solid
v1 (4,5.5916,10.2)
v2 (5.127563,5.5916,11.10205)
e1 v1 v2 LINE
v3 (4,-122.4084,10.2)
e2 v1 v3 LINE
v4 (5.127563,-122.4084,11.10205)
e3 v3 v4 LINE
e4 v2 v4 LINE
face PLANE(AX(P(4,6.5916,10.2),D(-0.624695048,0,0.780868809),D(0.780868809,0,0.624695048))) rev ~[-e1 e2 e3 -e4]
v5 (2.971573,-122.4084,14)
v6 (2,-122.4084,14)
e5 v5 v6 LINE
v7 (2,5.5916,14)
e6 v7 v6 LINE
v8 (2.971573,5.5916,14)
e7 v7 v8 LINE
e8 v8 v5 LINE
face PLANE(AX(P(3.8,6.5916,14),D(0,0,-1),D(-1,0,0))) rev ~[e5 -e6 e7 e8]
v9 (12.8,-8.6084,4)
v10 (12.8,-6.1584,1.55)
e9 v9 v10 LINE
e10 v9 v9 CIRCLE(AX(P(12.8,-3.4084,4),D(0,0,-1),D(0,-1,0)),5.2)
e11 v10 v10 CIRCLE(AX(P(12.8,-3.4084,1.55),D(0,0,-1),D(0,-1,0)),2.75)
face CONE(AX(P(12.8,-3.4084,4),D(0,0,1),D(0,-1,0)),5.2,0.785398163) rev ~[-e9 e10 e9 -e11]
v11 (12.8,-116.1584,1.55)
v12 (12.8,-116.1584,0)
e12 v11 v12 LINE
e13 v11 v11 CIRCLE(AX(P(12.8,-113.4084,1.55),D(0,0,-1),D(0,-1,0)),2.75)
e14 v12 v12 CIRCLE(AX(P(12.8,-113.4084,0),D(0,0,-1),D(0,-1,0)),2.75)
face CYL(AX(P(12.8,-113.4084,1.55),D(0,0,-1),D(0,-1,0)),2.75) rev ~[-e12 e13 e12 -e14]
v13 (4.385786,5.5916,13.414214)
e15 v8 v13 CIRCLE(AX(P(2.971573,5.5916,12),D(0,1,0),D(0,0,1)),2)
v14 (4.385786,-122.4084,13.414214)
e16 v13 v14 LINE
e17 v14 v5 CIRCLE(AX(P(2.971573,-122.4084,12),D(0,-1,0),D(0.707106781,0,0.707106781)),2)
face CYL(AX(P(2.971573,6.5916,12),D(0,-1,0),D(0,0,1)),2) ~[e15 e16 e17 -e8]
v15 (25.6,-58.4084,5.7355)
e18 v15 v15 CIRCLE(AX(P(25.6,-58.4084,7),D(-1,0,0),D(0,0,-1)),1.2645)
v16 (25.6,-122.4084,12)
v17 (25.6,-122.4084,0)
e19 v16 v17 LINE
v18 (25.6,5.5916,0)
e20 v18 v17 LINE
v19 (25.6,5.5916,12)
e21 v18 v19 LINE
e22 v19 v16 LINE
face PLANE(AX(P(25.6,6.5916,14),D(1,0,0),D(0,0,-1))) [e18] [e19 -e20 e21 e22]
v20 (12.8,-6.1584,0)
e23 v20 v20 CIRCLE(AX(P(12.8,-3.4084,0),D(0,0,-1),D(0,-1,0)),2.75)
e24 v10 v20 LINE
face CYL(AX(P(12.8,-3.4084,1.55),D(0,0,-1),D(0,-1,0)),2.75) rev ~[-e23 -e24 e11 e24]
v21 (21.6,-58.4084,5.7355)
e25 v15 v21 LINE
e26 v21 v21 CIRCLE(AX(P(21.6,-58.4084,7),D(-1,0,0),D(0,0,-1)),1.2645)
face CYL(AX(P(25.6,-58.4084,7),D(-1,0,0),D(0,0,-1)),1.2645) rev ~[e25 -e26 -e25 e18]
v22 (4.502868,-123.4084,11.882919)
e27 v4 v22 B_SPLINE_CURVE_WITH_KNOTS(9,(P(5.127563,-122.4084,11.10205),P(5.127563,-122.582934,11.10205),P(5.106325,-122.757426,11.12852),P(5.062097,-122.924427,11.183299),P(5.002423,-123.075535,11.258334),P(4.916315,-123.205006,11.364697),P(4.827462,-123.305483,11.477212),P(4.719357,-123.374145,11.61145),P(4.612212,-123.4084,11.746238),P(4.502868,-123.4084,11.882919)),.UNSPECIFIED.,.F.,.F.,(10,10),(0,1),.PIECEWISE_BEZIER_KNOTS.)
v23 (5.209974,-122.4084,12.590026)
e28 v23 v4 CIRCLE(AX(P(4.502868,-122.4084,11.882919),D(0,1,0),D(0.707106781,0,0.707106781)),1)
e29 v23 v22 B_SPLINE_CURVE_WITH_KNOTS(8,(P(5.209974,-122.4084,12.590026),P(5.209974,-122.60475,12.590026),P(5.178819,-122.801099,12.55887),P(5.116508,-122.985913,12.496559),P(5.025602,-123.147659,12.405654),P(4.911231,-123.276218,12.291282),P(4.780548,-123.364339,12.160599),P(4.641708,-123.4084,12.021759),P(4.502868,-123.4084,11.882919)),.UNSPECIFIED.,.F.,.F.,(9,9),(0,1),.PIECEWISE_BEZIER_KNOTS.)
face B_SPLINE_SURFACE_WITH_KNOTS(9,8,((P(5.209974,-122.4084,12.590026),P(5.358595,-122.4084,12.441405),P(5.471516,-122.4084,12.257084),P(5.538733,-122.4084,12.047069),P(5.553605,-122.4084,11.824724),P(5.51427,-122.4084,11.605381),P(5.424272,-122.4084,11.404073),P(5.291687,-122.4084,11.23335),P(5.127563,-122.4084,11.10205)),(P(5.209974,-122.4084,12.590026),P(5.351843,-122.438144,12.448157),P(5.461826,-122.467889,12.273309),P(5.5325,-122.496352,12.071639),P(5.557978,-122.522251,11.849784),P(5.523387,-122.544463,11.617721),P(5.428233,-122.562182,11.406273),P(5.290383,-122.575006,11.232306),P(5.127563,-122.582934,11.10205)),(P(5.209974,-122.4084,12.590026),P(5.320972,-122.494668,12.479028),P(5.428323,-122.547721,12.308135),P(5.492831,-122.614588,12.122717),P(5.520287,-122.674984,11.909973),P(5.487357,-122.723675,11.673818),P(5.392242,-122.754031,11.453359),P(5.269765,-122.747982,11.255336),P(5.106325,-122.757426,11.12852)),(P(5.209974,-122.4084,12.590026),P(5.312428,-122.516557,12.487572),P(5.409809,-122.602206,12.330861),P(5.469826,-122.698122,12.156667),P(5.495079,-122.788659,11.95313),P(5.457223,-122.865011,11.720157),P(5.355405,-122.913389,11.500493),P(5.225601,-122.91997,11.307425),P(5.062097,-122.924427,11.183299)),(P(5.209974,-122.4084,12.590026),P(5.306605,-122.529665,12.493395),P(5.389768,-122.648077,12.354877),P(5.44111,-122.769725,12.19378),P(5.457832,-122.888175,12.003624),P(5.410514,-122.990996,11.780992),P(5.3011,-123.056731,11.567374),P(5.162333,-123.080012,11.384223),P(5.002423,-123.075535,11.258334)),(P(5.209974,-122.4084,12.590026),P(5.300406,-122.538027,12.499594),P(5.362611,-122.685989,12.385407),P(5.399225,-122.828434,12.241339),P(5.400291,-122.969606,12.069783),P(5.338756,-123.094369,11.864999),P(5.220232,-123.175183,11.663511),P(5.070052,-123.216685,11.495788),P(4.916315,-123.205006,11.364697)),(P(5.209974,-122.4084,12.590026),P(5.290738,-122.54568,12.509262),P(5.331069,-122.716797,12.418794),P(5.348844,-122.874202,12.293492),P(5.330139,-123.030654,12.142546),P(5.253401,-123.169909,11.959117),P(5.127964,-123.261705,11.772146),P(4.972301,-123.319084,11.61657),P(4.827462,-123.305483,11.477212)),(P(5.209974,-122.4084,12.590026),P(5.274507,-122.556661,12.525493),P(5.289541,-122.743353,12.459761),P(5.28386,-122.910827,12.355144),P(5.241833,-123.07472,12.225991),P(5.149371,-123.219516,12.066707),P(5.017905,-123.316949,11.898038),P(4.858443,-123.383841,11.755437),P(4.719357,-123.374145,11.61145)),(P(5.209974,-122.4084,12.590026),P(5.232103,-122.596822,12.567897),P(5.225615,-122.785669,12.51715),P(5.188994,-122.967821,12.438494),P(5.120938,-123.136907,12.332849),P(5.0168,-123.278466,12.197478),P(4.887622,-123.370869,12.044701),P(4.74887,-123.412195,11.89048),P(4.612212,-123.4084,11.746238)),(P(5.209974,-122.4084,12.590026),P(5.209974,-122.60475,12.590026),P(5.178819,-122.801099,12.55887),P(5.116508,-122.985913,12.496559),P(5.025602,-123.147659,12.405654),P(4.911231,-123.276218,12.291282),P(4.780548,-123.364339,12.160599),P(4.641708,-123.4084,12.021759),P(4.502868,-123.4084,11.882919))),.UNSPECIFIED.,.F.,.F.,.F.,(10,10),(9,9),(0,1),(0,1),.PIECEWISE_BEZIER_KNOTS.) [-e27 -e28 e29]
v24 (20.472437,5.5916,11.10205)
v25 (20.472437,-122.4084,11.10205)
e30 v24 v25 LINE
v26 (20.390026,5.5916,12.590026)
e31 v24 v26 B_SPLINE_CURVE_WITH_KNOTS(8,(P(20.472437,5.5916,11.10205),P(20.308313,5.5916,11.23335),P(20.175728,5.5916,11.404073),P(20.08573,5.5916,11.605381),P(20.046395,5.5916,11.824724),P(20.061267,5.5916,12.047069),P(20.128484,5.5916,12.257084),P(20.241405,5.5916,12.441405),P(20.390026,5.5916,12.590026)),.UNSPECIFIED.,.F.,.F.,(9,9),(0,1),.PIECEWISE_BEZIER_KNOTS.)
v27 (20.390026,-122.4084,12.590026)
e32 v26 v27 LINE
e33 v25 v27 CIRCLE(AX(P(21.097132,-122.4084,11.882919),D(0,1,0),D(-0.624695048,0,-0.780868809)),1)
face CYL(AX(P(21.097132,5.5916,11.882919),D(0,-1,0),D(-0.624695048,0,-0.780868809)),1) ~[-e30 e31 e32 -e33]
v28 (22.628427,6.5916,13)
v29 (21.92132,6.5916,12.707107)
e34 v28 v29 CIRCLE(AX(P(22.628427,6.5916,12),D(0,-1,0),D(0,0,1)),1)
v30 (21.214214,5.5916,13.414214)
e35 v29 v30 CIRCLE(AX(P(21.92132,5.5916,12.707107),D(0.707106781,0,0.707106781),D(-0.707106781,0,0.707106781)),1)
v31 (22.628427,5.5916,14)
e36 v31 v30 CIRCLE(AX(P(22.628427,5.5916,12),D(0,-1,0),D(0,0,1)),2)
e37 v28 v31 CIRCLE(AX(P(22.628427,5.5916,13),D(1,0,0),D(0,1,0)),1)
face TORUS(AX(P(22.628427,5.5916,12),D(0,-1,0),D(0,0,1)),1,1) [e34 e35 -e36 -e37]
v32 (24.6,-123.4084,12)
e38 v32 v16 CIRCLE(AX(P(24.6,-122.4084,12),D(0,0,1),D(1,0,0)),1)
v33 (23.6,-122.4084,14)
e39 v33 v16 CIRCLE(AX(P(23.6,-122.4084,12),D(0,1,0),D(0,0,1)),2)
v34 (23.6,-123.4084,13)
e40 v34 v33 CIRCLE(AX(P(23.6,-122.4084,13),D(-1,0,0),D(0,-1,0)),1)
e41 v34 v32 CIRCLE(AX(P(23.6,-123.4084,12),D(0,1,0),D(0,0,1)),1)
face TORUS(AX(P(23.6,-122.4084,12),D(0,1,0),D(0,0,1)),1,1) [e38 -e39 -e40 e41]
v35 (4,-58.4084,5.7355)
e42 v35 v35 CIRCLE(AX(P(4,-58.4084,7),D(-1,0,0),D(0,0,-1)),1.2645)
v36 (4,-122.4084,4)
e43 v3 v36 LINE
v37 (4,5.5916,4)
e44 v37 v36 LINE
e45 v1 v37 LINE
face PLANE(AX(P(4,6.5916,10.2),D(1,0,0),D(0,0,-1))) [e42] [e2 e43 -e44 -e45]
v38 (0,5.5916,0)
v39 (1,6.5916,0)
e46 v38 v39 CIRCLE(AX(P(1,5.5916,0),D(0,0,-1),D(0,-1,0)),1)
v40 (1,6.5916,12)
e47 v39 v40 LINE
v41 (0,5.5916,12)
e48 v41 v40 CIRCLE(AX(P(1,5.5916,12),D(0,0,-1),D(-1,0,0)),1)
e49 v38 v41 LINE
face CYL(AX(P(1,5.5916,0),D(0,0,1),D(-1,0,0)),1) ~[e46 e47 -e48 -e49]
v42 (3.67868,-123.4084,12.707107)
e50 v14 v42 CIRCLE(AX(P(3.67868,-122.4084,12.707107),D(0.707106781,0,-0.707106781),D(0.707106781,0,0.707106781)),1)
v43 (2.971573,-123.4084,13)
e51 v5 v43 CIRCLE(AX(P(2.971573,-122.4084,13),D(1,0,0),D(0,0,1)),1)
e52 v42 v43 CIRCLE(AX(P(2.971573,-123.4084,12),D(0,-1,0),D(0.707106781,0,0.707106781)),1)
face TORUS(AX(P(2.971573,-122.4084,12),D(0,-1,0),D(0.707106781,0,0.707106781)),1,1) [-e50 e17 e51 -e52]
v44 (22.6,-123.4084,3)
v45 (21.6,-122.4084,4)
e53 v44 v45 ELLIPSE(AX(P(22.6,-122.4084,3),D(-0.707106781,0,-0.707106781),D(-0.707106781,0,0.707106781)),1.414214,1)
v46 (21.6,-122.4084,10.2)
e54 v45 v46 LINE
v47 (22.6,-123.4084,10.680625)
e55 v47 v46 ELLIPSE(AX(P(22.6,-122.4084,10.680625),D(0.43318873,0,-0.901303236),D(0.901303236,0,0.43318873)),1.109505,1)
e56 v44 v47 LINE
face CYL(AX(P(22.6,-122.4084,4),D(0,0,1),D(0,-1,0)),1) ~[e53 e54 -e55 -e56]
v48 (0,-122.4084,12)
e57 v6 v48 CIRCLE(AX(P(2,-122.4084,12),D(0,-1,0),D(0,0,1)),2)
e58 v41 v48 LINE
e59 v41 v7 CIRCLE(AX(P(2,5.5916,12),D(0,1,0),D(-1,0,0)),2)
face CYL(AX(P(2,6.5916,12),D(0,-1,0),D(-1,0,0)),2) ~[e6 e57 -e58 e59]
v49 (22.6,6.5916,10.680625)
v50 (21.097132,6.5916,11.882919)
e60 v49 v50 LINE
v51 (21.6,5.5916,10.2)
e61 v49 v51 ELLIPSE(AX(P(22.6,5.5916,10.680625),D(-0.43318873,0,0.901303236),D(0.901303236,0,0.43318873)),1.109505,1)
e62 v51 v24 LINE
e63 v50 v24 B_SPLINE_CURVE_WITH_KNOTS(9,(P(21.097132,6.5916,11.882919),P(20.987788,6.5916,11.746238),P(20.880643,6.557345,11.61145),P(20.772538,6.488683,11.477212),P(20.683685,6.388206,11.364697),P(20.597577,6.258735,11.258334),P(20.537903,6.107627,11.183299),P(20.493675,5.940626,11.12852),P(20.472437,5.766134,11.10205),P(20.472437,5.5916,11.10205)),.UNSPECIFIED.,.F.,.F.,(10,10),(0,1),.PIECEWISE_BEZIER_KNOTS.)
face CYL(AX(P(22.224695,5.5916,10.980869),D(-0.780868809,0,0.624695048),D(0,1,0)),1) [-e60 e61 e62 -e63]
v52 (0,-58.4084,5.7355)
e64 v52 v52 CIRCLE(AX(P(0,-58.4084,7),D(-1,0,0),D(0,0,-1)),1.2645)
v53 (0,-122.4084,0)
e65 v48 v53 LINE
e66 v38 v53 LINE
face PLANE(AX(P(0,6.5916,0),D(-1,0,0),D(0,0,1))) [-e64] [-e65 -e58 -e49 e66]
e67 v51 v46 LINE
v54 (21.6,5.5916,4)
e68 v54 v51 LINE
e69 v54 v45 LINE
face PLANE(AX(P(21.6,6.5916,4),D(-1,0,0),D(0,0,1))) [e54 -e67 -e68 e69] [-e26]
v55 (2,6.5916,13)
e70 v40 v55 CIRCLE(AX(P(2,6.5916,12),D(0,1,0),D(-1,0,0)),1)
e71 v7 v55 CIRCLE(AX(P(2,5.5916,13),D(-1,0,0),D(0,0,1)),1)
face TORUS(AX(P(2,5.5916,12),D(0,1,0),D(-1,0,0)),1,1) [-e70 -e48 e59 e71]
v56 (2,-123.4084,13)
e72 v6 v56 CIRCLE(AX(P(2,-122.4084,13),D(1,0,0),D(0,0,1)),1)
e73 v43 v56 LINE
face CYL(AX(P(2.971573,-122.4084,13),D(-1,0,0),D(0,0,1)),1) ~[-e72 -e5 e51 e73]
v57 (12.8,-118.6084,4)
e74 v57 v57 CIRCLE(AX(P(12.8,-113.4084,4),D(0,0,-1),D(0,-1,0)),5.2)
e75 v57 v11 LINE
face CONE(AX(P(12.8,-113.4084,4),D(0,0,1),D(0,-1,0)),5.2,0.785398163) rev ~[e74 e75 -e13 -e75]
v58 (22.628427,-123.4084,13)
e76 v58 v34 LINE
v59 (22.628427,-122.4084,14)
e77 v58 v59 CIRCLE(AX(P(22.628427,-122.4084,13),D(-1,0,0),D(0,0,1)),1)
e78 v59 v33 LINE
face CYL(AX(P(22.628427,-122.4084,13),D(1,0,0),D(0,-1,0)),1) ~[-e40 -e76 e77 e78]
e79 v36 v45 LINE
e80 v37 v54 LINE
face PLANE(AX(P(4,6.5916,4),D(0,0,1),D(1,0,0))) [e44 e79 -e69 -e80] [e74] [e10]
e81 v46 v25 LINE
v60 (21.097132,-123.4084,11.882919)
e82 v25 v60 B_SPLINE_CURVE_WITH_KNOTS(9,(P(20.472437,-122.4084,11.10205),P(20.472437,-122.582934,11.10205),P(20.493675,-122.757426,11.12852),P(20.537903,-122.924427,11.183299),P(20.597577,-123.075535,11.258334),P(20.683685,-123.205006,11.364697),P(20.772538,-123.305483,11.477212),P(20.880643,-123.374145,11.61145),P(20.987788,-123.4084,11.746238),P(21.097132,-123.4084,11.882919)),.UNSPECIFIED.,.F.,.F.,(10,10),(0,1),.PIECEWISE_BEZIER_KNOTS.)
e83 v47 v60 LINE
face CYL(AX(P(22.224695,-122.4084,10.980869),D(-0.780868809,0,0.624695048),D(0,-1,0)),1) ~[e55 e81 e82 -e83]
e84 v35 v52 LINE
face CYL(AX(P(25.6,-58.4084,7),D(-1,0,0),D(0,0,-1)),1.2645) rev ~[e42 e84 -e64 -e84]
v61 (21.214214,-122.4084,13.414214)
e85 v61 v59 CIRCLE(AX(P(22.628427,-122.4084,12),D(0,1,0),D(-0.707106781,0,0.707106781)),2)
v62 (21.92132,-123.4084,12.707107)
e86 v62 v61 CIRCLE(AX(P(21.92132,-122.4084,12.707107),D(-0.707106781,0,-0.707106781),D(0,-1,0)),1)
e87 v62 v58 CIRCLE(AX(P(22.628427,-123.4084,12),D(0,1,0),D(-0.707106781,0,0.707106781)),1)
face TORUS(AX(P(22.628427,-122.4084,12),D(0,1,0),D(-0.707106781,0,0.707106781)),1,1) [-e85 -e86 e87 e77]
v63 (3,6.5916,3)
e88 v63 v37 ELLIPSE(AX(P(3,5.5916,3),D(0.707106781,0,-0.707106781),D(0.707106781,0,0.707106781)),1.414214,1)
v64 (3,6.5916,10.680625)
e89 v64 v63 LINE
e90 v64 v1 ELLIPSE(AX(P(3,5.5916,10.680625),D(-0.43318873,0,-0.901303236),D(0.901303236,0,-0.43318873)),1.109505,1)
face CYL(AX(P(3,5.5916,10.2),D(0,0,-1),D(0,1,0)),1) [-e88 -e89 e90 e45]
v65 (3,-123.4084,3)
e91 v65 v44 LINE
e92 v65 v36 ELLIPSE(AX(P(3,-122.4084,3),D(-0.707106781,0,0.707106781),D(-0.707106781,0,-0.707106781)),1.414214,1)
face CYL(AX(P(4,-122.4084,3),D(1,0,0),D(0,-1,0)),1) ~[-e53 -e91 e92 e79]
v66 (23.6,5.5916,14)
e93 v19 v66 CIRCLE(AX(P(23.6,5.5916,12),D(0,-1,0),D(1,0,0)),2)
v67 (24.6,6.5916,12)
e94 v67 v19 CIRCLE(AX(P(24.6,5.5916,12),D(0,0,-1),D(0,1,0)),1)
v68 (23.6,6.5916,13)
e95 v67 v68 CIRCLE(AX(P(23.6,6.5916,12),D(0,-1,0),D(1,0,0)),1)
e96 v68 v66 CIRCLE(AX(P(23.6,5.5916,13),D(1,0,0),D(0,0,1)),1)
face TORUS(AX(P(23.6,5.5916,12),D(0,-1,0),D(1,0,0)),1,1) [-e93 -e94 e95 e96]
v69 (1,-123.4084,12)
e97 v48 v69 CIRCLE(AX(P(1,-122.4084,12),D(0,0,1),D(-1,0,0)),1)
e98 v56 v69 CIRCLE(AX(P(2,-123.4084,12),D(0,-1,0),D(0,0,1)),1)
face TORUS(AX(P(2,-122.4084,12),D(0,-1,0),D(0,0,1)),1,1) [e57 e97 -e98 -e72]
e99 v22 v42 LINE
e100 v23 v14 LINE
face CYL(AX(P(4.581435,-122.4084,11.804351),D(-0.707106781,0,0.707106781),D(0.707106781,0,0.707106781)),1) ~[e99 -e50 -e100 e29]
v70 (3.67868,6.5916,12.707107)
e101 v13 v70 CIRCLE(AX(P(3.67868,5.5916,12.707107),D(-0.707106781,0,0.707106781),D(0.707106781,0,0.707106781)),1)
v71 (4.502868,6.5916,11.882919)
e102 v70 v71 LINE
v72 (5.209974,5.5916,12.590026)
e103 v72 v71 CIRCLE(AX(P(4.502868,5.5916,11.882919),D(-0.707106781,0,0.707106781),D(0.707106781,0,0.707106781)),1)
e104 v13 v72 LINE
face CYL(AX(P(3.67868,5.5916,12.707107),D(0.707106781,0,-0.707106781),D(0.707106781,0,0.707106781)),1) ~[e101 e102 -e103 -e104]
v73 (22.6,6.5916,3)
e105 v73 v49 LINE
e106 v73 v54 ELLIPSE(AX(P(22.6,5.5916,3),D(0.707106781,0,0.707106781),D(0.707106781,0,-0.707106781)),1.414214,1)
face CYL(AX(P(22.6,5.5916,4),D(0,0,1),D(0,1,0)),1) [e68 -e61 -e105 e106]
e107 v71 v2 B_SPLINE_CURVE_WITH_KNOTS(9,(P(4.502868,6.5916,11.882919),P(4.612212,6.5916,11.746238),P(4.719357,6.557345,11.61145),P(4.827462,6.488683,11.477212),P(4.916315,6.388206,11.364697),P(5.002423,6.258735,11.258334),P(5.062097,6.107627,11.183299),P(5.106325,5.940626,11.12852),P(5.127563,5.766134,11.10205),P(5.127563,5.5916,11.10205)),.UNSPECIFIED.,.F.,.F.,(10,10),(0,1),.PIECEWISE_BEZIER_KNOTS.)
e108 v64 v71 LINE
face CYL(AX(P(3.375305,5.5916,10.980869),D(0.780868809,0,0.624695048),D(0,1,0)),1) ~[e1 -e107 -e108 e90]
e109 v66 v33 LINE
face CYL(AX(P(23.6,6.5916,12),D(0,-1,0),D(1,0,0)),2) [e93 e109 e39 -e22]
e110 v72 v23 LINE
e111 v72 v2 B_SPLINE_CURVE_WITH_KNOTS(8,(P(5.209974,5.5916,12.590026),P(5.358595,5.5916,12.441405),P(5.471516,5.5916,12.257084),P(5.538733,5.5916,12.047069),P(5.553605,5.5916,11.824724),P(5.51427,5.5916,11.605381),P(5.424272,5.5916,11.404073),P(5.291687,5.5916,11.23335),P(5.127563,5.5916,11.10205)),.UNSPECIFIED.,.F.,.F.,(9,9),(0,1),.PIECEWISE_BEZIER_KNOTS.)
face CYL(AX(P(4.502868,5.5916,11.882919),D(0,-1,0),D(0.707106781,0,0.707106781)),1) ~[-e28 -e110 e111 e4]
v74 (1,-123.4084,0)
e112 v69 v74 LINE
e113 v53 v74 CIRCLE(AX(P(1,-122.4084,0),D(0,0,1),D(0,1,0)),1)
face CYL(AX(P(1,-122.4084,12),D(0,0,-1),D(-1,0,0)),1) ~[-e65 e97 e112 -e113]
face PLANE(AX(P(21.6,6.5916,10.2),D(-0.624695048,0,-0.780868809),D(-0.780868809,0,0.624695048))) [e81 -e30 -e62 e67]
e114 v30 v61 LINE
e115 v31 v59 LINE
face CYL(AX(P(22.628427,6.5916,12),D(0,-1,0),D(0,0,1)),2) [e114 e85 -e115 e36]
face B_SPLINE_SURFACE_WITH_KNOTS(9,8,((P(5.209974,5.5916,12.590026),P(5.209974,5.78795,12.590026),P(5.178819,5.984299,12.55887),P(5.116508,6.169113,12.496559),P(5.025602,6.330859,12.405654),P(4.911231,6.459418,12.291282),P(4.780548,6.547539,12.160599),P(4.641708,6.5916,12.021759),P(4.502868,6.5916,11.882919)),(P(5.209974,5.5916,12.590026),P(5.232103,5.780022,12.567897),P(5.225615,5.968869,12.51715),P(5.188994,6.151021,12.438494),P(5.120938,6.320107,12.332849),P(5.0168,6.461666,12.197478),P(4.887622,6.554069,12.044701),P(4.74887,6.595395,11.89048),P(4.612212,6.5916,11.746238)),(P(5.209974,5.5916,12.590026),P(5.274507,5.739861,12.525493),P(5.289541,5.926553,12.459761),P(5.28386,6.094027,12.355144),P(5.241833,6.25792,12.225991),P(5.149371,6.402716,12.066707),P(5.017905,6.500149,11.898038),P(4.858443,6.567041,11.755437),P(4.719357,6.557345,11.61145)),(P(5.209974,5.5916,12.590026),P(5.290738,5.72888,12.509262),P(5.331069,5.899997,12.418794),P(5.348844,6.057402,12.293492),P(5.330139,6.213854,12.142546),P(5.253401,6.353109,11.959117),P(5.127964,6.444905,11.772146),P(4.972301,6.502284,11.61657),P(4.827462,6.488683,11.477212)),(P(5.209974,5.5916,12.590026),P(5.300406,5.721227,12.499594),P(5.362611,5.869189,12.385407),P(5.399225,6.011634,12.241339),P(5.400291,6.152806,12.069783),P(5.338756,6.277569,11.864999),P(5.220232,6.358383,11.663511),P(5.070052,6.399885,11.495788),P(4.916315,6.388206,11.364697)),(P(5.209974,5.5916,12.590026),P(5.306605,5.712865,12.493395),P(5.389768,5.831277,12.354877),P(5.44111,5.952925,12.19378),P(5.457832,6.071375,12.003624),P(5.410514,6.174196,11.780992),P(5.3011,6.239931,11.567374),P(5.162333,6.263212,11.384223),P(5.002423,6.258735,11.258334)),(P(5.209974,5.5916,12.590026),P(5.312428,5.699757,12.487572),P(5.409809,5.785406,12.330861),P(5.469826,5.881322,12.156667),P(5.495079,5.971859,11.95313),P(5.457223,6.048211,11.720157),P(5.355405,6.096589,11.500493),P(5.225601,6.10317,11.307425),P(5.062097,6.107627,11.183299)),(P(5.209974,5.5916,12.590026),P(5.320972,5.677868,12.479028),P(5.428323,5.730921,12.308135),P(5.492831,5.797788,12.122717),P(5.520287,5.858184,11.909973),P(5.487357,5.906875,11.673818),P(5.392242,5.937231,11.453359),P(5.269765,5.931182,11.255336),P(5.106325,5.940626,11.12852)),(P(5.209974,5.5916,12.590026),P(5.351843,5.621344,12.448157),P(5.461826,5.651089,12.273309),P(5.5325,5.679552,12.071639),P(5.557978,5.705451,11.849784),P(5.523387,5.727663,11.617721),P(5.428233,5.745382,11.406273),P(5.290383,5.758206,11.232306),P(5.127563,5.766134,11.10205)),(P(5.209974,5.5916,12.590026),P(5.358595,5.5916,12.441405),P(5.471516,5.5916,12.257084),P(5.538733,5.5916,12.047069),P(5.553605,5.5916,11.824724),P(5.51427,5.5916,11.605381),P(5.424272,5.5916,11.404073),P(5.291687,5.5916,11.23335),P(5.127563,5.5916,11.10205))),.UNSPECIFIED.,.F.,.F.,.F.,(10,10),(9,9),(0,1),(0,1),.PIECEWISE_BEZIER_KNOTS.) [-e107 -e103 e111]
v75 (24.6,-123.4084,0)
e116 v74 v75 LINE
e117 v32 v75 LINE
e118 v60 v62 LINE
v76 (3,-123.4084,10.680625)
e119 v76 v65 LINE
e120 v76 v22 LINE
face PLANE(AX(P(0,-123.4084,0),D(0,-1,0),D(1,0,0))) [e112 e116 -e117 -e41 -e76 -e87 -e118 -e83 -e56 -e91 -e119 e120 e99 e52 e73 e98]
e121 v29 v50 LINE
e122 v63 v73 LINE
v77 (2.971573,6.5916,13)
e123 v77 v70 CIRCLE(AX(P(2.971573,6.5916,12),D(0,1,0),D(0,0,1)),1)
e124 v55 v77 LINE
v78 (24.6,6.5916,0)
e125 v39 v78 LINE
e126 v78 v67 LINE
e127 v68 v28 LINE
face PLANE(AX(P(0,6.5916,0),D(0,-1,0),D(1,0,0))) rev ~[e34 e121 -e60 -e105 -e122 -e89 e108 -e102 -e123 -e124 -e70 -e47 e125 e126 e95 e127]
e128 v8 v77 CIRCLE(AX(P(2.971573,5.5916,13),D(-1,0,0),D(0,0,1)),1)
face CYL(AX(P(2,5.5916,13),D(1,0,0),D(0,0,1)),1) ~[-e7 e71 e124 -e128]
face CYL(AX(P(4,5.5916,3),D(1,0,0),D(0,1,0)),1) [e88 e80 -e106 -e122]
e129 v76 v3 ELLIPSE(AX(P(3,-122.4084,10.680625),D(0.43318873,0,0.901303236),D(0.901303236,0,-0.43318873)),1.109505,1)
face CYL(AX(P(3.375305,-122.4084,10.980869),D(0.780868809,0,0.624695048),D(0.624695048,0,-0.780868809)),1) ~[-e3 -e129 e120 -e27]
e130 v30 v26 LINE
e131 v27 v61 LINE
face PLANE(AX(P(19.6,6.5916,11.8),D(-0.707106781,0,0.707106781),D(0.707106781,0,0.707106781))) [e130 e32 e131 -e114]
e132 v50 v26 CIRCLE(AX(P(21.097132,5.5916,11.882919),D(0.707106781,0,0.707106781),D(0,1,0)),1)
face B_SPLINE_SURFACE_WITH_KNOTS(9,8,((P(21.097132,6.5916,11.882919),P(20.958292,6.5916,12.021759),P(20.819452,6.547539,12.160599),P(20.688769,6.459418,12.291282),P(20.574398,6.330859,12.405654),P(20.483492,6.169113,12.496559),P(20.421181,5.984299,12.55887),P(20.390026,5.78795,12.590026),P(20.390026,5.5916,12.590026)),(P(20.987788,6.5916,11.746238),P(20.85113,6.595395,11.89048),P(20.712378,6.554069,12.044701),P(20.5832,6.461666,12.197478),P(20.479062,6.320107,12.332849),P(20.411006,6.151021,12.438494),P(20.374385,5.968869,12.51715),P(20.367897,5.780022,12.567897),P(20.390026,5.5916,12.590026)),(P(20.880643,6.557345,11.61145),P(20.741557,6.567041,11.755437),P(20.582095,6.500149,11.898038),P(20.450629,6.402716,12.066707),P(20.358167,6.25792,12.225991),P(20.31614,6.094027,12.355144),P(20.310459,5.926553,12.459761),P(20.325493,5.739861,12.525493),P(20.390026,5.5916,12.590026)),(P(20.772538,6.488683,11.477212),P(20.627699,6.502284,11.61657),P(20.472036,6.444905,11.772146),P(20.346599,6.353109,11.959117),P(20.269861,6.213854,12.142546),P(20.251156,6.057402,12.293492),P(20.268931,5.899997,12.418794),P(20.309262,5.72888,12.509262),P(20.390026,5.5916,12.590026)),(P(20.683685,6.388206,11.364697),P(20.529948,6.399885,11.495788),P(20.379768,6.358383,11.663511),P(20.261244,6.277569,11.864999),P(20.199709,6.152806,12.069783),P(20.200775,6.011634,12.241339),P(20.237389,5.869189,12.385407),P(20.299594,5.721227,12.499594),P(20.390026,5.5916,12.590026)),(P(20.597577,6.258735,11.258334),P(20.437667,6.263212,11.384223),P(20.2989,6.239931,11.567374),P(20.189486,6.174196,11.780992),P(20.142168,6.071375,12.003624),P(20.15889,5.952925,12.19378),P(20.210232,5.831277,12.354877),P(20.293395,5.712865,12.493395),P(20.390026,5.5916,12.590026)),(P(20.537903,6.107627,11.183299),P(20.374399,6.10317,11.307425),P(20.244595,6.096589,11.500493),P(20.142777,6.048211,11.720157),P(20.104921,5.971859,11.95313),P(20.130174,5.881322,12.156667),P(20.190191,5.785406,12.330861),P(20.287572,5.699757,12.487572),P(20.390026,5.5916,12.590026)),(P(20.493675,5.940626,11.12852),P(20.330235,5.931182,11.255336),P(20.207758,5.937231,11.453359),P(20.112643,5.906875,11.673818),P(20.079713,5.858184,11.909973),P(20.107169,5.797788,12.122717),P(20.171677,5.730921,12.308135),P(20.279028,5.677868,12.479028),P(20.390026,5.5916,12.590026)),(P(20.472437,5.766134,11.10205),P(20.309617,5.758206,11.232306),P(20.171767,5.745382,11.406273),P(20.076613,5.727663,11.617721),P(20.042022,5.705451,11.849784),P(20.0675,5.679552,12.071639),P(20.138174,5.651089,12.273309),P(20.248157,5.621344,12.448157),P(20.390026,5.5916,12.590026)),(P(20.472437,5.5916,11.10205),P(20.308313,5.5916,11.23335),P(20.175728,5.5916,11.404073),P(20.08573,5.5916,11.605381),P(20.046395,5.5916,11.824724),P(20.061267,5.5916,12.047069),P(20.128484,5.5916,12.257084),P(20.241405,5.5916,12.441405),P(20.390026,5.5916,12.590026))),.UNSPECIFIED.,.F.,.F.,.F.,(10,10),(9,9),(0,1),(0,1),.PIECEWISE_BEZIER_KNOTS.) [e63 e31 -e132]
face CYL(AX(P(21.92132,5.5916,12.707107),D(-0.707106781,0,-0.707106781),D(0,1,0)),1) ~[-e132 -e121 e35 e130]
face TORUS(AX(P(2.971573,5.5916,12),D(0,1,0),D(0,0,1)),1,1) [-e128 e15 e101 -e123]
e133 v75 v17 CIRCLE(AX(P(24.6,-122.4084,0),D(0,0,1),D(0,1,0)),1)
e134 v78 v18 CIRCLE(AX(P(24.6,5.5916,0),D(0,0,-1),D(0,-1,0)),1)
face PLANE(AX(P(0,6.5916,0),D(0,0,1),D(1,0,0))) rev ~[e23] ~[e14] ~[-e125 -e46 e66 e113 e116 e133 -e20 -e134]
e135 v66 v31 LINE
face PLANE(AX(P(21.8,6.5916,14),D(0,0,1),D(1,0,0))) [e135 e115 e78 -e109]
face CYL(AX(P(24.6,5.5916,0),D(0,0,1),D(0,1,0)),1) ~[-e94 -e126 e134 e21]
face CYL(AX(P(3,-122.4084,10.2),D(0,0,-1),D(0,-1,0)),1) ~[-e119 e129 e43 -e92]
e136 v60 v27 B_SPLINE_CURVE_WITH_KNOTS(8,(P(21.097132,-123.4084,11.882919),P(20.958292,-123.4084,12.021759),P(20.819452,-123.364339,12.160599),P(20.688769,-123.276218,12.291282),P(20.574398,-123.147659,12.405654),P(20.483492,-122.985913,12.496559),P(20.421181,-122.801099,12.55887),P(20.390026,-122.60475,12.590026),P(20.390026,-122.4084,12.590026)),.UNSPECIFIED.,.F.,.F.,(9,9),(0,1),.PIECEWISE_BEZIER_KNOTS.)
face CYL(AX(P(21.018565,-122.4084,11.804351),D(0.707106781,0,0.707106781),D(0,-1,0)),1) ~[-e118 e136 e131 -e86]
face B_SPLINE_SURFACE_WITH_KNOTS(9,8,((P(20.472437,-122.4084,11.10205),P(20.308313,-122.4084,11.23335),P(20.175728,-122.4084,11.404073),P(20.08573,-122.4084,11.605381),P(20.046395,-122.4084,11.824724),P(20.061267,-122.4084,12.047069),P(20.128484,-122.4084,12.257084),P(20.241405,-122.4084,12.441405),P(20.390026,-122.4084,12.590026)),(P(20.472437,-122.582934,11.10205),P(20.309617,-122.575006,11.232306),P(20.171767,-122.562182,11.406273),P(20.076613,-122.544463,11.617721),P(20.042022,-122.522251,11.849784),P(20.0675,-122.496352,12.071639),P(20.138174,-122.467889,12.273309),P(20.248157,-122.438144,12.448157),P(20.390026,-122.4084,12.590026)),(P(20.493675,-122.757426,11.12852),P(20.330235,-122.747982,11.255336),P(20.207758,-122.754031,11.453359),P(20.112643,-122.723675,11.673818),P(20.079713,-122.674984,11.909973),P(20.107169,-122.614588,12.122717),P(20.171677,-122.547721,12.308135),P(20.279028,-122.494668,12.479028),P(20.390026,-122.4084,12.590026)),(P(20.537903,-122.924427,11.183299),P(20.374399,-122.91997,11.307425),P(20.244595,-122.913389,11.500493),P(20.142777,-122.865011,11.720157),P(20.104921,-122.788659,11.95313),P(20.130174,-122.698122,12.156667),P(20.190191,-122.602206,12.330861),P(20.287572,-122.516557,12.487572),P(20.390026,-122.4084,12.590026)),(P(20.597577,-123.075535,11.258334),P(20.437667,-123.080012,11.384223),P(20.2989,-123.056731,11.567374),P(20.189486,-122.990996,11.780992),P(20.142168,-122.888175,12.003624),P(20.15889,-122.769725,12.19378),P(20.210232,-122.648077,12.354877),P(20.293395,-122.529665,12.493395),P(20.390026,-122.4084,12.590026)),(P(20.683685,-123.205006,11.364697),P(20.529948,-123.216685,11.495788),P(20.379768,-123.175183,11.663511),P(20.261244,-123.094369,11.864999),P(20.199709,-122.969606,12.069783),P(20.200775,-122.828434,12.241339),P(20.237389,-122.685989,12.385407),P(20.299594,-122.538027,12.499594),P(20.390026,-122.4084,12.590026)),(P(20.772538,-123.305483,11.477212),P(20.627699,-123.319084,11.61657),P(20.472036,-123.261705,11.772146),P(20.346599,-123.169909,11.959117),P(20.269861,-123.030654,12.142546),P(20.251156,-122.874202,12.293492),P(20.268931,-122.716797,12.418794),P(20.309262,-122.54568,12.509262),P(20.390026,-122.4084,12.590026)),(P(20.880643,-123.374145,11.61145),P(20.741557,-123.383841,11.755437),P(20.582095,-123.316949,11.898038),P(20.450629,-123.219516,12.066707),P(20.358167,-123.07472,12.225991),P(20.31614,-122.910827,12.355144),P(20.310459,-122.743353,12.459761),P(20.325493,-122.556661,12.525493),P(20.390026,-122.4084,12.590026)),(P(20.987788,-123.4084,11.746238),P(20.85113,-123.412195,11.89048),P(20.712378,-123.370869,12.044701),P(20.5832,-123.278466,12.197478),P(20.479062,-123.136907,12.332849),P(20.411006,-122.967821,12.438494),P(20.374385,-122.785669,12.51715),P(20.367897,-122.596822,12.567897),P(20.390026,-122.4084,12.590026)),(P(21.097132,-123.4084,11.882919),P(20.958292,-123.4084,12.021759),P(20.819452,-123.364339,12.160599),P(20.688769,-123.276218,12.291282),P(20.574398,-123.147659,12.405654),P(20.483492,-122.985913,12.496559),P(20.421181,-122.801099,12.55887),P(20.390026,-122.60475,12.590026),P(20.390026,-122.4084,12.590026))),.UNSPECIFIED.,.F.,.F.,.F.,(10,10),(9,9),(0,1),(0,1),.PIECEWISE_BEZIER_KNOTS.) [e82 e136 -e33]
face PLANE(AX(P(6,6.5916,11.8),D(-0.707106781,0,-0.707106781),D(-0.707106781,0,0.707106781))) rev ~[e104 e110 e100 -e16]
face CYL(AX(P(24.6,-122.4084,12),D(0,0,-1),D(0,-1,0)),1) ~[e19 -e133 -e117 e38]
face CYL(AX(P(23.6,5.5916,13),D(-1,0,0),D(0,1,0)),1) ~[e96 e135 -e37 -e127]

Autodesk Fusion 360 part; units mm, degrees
sketch "profile" plane through (0, 0, 0) normal (0, 0, 1) x (1, 0, 0)
  line L0 (0, 0) -> (0, 14)
  line L1 (21.6, 10.2) -> (19.6, 11.8)
  line L2 (19.6, 11.8) -> (21.8, 14)
  line L3 (21.8, 14) -> (25.6, 14)
  line L4 (4, 10.2) -> (6, 11.8)
  line L5 (6, 11.8) -> (3.8, 14)
  line L6 (3.8, 14) -> (0, 14)
  line L7 (4, 4) -> (21.6, 4)
  line L8 (4, 10.2) -> (4, 4)
  line L9 (21.6, 4) -> (21.6, 10.2)
  line L10 (0, 0) -> (25.6, 0)
  line L11 (25.6, 14) -> (25.6, 0)
  dimension "d74" = 3.8
  dimension "d75" = 3.8
  dimension "d76" = 4
  dimension "d80" = 17.6
  dimension "d84" = 4
  dimension "d85" = 14
  dimension "d86" = 14
  dimension "d87" = 3.8
  dimension "d88" = 6
  dimension "d89" = 4
  dimension "d90" = 25.8
  dimension "d117" = 6
  dimension "d118" = 3.8
  dimension "d119" = 1.6
  dimension "d120" = 1.6
extrude "Extrude2" add sketch "profile" along normal blind 130
move_body "Move1" bodies 1 to x (1, 0, 0) y (0, 0, 1) z (0, -1, 0) at (0, 6.5916, 6.5916)
hole "Hole4" at (25.6, -58.4084, 13.5916) direction (-1, 0, 0) diameter 2.529 depth 42 tip angle 180
fillet "Fillet5" radius 2 1 edges at (25.6, -58.4084, 20.5916)
fillet "Fillet6" radius 2 1 edges at (0, -58.4084, 20.5916)
fillet "Fillet7" radius 2 2 edges at (21.8, -58.4084, 20.5916) (3.8, -58.4084, 20.5916)
fillet "Fillet8" radius 1 5 edges at (12.8, 6.5916, 10.5916) (21.6, 6.5916, 13.6916) (20.6, 6.5916, 17.5916) (5, 6.5916, 17.5916) (4, 6.5916, 13.6916)
fillet "Fillet9" radius 1 5 edges at (4, -123.4084, 13.6916) (21.6, -123.4084, 13.6916) (12.8, -123.4084, 10.5916) (5, -123.4084, 17.5916) (20.6, -123.4084, 17.5916)
move_body "Align2" bodies 1 to x (1, 0, 0) y (0, 1, 0) z (0, 0, 1) at (0, 0, -6.5916)
fillet "Fillet10" radius 1 26 edges at (25.6, -123.4084, 6) (25.0142, -123.4084, 13.4142) (23.1142, -123.4084, 14) (21.8631, -123.4084, 13.8478) (20.7628, -123.4084, 12.9628) (19.8084, -123.1155, 12.0084) (19.6, -58.4084, 11.8) (19.8084, 6.2987, 12.0084) (20.7628, 6.5916, 12.9628) (21.8631, 6.5916, 13.8478) (23.1142, 6.5916, 14) (25.0142, 6.5916, 13.4142) (25.6, 6.5916, 6) (0, 6.5916, 6) (0.5858, 6.5916, 13.4142) (2.4858, 6.5916, 14) (3.7369, 6.5916, 13.8478) (4.8372, 6.5916, 12.9628) (5.7916, 6.2987, 12.0084) (6, -58.4084, 11.8) (5.7916, -123.1155, 12.0084) (4.8372, -123.4084, 12.9628) (3.7369, -123.4084, 13.8478) (2.4858, -123.4084, 14) (0.5858, -123.4084, 13.4142) (0, -123.4084, 6)
hole "Hole5" at (12.8, -113.4084, 4) direction (0, 0, -1) diameter 5.5 depth 4 tip angle 180 countersink diameter 10.4 countersink angle 90
hole "Hole6" at (12.8, -3.4084, 4) direction (0, 0, -1) diameter 5.5 depth 15 tip angle 180 countersink diameter 10.4 countersink angle 90
equation "insideheight = 10 mm"
equation "d85 = height"
equation "d86 = height"
equation "height = 14 mm"
